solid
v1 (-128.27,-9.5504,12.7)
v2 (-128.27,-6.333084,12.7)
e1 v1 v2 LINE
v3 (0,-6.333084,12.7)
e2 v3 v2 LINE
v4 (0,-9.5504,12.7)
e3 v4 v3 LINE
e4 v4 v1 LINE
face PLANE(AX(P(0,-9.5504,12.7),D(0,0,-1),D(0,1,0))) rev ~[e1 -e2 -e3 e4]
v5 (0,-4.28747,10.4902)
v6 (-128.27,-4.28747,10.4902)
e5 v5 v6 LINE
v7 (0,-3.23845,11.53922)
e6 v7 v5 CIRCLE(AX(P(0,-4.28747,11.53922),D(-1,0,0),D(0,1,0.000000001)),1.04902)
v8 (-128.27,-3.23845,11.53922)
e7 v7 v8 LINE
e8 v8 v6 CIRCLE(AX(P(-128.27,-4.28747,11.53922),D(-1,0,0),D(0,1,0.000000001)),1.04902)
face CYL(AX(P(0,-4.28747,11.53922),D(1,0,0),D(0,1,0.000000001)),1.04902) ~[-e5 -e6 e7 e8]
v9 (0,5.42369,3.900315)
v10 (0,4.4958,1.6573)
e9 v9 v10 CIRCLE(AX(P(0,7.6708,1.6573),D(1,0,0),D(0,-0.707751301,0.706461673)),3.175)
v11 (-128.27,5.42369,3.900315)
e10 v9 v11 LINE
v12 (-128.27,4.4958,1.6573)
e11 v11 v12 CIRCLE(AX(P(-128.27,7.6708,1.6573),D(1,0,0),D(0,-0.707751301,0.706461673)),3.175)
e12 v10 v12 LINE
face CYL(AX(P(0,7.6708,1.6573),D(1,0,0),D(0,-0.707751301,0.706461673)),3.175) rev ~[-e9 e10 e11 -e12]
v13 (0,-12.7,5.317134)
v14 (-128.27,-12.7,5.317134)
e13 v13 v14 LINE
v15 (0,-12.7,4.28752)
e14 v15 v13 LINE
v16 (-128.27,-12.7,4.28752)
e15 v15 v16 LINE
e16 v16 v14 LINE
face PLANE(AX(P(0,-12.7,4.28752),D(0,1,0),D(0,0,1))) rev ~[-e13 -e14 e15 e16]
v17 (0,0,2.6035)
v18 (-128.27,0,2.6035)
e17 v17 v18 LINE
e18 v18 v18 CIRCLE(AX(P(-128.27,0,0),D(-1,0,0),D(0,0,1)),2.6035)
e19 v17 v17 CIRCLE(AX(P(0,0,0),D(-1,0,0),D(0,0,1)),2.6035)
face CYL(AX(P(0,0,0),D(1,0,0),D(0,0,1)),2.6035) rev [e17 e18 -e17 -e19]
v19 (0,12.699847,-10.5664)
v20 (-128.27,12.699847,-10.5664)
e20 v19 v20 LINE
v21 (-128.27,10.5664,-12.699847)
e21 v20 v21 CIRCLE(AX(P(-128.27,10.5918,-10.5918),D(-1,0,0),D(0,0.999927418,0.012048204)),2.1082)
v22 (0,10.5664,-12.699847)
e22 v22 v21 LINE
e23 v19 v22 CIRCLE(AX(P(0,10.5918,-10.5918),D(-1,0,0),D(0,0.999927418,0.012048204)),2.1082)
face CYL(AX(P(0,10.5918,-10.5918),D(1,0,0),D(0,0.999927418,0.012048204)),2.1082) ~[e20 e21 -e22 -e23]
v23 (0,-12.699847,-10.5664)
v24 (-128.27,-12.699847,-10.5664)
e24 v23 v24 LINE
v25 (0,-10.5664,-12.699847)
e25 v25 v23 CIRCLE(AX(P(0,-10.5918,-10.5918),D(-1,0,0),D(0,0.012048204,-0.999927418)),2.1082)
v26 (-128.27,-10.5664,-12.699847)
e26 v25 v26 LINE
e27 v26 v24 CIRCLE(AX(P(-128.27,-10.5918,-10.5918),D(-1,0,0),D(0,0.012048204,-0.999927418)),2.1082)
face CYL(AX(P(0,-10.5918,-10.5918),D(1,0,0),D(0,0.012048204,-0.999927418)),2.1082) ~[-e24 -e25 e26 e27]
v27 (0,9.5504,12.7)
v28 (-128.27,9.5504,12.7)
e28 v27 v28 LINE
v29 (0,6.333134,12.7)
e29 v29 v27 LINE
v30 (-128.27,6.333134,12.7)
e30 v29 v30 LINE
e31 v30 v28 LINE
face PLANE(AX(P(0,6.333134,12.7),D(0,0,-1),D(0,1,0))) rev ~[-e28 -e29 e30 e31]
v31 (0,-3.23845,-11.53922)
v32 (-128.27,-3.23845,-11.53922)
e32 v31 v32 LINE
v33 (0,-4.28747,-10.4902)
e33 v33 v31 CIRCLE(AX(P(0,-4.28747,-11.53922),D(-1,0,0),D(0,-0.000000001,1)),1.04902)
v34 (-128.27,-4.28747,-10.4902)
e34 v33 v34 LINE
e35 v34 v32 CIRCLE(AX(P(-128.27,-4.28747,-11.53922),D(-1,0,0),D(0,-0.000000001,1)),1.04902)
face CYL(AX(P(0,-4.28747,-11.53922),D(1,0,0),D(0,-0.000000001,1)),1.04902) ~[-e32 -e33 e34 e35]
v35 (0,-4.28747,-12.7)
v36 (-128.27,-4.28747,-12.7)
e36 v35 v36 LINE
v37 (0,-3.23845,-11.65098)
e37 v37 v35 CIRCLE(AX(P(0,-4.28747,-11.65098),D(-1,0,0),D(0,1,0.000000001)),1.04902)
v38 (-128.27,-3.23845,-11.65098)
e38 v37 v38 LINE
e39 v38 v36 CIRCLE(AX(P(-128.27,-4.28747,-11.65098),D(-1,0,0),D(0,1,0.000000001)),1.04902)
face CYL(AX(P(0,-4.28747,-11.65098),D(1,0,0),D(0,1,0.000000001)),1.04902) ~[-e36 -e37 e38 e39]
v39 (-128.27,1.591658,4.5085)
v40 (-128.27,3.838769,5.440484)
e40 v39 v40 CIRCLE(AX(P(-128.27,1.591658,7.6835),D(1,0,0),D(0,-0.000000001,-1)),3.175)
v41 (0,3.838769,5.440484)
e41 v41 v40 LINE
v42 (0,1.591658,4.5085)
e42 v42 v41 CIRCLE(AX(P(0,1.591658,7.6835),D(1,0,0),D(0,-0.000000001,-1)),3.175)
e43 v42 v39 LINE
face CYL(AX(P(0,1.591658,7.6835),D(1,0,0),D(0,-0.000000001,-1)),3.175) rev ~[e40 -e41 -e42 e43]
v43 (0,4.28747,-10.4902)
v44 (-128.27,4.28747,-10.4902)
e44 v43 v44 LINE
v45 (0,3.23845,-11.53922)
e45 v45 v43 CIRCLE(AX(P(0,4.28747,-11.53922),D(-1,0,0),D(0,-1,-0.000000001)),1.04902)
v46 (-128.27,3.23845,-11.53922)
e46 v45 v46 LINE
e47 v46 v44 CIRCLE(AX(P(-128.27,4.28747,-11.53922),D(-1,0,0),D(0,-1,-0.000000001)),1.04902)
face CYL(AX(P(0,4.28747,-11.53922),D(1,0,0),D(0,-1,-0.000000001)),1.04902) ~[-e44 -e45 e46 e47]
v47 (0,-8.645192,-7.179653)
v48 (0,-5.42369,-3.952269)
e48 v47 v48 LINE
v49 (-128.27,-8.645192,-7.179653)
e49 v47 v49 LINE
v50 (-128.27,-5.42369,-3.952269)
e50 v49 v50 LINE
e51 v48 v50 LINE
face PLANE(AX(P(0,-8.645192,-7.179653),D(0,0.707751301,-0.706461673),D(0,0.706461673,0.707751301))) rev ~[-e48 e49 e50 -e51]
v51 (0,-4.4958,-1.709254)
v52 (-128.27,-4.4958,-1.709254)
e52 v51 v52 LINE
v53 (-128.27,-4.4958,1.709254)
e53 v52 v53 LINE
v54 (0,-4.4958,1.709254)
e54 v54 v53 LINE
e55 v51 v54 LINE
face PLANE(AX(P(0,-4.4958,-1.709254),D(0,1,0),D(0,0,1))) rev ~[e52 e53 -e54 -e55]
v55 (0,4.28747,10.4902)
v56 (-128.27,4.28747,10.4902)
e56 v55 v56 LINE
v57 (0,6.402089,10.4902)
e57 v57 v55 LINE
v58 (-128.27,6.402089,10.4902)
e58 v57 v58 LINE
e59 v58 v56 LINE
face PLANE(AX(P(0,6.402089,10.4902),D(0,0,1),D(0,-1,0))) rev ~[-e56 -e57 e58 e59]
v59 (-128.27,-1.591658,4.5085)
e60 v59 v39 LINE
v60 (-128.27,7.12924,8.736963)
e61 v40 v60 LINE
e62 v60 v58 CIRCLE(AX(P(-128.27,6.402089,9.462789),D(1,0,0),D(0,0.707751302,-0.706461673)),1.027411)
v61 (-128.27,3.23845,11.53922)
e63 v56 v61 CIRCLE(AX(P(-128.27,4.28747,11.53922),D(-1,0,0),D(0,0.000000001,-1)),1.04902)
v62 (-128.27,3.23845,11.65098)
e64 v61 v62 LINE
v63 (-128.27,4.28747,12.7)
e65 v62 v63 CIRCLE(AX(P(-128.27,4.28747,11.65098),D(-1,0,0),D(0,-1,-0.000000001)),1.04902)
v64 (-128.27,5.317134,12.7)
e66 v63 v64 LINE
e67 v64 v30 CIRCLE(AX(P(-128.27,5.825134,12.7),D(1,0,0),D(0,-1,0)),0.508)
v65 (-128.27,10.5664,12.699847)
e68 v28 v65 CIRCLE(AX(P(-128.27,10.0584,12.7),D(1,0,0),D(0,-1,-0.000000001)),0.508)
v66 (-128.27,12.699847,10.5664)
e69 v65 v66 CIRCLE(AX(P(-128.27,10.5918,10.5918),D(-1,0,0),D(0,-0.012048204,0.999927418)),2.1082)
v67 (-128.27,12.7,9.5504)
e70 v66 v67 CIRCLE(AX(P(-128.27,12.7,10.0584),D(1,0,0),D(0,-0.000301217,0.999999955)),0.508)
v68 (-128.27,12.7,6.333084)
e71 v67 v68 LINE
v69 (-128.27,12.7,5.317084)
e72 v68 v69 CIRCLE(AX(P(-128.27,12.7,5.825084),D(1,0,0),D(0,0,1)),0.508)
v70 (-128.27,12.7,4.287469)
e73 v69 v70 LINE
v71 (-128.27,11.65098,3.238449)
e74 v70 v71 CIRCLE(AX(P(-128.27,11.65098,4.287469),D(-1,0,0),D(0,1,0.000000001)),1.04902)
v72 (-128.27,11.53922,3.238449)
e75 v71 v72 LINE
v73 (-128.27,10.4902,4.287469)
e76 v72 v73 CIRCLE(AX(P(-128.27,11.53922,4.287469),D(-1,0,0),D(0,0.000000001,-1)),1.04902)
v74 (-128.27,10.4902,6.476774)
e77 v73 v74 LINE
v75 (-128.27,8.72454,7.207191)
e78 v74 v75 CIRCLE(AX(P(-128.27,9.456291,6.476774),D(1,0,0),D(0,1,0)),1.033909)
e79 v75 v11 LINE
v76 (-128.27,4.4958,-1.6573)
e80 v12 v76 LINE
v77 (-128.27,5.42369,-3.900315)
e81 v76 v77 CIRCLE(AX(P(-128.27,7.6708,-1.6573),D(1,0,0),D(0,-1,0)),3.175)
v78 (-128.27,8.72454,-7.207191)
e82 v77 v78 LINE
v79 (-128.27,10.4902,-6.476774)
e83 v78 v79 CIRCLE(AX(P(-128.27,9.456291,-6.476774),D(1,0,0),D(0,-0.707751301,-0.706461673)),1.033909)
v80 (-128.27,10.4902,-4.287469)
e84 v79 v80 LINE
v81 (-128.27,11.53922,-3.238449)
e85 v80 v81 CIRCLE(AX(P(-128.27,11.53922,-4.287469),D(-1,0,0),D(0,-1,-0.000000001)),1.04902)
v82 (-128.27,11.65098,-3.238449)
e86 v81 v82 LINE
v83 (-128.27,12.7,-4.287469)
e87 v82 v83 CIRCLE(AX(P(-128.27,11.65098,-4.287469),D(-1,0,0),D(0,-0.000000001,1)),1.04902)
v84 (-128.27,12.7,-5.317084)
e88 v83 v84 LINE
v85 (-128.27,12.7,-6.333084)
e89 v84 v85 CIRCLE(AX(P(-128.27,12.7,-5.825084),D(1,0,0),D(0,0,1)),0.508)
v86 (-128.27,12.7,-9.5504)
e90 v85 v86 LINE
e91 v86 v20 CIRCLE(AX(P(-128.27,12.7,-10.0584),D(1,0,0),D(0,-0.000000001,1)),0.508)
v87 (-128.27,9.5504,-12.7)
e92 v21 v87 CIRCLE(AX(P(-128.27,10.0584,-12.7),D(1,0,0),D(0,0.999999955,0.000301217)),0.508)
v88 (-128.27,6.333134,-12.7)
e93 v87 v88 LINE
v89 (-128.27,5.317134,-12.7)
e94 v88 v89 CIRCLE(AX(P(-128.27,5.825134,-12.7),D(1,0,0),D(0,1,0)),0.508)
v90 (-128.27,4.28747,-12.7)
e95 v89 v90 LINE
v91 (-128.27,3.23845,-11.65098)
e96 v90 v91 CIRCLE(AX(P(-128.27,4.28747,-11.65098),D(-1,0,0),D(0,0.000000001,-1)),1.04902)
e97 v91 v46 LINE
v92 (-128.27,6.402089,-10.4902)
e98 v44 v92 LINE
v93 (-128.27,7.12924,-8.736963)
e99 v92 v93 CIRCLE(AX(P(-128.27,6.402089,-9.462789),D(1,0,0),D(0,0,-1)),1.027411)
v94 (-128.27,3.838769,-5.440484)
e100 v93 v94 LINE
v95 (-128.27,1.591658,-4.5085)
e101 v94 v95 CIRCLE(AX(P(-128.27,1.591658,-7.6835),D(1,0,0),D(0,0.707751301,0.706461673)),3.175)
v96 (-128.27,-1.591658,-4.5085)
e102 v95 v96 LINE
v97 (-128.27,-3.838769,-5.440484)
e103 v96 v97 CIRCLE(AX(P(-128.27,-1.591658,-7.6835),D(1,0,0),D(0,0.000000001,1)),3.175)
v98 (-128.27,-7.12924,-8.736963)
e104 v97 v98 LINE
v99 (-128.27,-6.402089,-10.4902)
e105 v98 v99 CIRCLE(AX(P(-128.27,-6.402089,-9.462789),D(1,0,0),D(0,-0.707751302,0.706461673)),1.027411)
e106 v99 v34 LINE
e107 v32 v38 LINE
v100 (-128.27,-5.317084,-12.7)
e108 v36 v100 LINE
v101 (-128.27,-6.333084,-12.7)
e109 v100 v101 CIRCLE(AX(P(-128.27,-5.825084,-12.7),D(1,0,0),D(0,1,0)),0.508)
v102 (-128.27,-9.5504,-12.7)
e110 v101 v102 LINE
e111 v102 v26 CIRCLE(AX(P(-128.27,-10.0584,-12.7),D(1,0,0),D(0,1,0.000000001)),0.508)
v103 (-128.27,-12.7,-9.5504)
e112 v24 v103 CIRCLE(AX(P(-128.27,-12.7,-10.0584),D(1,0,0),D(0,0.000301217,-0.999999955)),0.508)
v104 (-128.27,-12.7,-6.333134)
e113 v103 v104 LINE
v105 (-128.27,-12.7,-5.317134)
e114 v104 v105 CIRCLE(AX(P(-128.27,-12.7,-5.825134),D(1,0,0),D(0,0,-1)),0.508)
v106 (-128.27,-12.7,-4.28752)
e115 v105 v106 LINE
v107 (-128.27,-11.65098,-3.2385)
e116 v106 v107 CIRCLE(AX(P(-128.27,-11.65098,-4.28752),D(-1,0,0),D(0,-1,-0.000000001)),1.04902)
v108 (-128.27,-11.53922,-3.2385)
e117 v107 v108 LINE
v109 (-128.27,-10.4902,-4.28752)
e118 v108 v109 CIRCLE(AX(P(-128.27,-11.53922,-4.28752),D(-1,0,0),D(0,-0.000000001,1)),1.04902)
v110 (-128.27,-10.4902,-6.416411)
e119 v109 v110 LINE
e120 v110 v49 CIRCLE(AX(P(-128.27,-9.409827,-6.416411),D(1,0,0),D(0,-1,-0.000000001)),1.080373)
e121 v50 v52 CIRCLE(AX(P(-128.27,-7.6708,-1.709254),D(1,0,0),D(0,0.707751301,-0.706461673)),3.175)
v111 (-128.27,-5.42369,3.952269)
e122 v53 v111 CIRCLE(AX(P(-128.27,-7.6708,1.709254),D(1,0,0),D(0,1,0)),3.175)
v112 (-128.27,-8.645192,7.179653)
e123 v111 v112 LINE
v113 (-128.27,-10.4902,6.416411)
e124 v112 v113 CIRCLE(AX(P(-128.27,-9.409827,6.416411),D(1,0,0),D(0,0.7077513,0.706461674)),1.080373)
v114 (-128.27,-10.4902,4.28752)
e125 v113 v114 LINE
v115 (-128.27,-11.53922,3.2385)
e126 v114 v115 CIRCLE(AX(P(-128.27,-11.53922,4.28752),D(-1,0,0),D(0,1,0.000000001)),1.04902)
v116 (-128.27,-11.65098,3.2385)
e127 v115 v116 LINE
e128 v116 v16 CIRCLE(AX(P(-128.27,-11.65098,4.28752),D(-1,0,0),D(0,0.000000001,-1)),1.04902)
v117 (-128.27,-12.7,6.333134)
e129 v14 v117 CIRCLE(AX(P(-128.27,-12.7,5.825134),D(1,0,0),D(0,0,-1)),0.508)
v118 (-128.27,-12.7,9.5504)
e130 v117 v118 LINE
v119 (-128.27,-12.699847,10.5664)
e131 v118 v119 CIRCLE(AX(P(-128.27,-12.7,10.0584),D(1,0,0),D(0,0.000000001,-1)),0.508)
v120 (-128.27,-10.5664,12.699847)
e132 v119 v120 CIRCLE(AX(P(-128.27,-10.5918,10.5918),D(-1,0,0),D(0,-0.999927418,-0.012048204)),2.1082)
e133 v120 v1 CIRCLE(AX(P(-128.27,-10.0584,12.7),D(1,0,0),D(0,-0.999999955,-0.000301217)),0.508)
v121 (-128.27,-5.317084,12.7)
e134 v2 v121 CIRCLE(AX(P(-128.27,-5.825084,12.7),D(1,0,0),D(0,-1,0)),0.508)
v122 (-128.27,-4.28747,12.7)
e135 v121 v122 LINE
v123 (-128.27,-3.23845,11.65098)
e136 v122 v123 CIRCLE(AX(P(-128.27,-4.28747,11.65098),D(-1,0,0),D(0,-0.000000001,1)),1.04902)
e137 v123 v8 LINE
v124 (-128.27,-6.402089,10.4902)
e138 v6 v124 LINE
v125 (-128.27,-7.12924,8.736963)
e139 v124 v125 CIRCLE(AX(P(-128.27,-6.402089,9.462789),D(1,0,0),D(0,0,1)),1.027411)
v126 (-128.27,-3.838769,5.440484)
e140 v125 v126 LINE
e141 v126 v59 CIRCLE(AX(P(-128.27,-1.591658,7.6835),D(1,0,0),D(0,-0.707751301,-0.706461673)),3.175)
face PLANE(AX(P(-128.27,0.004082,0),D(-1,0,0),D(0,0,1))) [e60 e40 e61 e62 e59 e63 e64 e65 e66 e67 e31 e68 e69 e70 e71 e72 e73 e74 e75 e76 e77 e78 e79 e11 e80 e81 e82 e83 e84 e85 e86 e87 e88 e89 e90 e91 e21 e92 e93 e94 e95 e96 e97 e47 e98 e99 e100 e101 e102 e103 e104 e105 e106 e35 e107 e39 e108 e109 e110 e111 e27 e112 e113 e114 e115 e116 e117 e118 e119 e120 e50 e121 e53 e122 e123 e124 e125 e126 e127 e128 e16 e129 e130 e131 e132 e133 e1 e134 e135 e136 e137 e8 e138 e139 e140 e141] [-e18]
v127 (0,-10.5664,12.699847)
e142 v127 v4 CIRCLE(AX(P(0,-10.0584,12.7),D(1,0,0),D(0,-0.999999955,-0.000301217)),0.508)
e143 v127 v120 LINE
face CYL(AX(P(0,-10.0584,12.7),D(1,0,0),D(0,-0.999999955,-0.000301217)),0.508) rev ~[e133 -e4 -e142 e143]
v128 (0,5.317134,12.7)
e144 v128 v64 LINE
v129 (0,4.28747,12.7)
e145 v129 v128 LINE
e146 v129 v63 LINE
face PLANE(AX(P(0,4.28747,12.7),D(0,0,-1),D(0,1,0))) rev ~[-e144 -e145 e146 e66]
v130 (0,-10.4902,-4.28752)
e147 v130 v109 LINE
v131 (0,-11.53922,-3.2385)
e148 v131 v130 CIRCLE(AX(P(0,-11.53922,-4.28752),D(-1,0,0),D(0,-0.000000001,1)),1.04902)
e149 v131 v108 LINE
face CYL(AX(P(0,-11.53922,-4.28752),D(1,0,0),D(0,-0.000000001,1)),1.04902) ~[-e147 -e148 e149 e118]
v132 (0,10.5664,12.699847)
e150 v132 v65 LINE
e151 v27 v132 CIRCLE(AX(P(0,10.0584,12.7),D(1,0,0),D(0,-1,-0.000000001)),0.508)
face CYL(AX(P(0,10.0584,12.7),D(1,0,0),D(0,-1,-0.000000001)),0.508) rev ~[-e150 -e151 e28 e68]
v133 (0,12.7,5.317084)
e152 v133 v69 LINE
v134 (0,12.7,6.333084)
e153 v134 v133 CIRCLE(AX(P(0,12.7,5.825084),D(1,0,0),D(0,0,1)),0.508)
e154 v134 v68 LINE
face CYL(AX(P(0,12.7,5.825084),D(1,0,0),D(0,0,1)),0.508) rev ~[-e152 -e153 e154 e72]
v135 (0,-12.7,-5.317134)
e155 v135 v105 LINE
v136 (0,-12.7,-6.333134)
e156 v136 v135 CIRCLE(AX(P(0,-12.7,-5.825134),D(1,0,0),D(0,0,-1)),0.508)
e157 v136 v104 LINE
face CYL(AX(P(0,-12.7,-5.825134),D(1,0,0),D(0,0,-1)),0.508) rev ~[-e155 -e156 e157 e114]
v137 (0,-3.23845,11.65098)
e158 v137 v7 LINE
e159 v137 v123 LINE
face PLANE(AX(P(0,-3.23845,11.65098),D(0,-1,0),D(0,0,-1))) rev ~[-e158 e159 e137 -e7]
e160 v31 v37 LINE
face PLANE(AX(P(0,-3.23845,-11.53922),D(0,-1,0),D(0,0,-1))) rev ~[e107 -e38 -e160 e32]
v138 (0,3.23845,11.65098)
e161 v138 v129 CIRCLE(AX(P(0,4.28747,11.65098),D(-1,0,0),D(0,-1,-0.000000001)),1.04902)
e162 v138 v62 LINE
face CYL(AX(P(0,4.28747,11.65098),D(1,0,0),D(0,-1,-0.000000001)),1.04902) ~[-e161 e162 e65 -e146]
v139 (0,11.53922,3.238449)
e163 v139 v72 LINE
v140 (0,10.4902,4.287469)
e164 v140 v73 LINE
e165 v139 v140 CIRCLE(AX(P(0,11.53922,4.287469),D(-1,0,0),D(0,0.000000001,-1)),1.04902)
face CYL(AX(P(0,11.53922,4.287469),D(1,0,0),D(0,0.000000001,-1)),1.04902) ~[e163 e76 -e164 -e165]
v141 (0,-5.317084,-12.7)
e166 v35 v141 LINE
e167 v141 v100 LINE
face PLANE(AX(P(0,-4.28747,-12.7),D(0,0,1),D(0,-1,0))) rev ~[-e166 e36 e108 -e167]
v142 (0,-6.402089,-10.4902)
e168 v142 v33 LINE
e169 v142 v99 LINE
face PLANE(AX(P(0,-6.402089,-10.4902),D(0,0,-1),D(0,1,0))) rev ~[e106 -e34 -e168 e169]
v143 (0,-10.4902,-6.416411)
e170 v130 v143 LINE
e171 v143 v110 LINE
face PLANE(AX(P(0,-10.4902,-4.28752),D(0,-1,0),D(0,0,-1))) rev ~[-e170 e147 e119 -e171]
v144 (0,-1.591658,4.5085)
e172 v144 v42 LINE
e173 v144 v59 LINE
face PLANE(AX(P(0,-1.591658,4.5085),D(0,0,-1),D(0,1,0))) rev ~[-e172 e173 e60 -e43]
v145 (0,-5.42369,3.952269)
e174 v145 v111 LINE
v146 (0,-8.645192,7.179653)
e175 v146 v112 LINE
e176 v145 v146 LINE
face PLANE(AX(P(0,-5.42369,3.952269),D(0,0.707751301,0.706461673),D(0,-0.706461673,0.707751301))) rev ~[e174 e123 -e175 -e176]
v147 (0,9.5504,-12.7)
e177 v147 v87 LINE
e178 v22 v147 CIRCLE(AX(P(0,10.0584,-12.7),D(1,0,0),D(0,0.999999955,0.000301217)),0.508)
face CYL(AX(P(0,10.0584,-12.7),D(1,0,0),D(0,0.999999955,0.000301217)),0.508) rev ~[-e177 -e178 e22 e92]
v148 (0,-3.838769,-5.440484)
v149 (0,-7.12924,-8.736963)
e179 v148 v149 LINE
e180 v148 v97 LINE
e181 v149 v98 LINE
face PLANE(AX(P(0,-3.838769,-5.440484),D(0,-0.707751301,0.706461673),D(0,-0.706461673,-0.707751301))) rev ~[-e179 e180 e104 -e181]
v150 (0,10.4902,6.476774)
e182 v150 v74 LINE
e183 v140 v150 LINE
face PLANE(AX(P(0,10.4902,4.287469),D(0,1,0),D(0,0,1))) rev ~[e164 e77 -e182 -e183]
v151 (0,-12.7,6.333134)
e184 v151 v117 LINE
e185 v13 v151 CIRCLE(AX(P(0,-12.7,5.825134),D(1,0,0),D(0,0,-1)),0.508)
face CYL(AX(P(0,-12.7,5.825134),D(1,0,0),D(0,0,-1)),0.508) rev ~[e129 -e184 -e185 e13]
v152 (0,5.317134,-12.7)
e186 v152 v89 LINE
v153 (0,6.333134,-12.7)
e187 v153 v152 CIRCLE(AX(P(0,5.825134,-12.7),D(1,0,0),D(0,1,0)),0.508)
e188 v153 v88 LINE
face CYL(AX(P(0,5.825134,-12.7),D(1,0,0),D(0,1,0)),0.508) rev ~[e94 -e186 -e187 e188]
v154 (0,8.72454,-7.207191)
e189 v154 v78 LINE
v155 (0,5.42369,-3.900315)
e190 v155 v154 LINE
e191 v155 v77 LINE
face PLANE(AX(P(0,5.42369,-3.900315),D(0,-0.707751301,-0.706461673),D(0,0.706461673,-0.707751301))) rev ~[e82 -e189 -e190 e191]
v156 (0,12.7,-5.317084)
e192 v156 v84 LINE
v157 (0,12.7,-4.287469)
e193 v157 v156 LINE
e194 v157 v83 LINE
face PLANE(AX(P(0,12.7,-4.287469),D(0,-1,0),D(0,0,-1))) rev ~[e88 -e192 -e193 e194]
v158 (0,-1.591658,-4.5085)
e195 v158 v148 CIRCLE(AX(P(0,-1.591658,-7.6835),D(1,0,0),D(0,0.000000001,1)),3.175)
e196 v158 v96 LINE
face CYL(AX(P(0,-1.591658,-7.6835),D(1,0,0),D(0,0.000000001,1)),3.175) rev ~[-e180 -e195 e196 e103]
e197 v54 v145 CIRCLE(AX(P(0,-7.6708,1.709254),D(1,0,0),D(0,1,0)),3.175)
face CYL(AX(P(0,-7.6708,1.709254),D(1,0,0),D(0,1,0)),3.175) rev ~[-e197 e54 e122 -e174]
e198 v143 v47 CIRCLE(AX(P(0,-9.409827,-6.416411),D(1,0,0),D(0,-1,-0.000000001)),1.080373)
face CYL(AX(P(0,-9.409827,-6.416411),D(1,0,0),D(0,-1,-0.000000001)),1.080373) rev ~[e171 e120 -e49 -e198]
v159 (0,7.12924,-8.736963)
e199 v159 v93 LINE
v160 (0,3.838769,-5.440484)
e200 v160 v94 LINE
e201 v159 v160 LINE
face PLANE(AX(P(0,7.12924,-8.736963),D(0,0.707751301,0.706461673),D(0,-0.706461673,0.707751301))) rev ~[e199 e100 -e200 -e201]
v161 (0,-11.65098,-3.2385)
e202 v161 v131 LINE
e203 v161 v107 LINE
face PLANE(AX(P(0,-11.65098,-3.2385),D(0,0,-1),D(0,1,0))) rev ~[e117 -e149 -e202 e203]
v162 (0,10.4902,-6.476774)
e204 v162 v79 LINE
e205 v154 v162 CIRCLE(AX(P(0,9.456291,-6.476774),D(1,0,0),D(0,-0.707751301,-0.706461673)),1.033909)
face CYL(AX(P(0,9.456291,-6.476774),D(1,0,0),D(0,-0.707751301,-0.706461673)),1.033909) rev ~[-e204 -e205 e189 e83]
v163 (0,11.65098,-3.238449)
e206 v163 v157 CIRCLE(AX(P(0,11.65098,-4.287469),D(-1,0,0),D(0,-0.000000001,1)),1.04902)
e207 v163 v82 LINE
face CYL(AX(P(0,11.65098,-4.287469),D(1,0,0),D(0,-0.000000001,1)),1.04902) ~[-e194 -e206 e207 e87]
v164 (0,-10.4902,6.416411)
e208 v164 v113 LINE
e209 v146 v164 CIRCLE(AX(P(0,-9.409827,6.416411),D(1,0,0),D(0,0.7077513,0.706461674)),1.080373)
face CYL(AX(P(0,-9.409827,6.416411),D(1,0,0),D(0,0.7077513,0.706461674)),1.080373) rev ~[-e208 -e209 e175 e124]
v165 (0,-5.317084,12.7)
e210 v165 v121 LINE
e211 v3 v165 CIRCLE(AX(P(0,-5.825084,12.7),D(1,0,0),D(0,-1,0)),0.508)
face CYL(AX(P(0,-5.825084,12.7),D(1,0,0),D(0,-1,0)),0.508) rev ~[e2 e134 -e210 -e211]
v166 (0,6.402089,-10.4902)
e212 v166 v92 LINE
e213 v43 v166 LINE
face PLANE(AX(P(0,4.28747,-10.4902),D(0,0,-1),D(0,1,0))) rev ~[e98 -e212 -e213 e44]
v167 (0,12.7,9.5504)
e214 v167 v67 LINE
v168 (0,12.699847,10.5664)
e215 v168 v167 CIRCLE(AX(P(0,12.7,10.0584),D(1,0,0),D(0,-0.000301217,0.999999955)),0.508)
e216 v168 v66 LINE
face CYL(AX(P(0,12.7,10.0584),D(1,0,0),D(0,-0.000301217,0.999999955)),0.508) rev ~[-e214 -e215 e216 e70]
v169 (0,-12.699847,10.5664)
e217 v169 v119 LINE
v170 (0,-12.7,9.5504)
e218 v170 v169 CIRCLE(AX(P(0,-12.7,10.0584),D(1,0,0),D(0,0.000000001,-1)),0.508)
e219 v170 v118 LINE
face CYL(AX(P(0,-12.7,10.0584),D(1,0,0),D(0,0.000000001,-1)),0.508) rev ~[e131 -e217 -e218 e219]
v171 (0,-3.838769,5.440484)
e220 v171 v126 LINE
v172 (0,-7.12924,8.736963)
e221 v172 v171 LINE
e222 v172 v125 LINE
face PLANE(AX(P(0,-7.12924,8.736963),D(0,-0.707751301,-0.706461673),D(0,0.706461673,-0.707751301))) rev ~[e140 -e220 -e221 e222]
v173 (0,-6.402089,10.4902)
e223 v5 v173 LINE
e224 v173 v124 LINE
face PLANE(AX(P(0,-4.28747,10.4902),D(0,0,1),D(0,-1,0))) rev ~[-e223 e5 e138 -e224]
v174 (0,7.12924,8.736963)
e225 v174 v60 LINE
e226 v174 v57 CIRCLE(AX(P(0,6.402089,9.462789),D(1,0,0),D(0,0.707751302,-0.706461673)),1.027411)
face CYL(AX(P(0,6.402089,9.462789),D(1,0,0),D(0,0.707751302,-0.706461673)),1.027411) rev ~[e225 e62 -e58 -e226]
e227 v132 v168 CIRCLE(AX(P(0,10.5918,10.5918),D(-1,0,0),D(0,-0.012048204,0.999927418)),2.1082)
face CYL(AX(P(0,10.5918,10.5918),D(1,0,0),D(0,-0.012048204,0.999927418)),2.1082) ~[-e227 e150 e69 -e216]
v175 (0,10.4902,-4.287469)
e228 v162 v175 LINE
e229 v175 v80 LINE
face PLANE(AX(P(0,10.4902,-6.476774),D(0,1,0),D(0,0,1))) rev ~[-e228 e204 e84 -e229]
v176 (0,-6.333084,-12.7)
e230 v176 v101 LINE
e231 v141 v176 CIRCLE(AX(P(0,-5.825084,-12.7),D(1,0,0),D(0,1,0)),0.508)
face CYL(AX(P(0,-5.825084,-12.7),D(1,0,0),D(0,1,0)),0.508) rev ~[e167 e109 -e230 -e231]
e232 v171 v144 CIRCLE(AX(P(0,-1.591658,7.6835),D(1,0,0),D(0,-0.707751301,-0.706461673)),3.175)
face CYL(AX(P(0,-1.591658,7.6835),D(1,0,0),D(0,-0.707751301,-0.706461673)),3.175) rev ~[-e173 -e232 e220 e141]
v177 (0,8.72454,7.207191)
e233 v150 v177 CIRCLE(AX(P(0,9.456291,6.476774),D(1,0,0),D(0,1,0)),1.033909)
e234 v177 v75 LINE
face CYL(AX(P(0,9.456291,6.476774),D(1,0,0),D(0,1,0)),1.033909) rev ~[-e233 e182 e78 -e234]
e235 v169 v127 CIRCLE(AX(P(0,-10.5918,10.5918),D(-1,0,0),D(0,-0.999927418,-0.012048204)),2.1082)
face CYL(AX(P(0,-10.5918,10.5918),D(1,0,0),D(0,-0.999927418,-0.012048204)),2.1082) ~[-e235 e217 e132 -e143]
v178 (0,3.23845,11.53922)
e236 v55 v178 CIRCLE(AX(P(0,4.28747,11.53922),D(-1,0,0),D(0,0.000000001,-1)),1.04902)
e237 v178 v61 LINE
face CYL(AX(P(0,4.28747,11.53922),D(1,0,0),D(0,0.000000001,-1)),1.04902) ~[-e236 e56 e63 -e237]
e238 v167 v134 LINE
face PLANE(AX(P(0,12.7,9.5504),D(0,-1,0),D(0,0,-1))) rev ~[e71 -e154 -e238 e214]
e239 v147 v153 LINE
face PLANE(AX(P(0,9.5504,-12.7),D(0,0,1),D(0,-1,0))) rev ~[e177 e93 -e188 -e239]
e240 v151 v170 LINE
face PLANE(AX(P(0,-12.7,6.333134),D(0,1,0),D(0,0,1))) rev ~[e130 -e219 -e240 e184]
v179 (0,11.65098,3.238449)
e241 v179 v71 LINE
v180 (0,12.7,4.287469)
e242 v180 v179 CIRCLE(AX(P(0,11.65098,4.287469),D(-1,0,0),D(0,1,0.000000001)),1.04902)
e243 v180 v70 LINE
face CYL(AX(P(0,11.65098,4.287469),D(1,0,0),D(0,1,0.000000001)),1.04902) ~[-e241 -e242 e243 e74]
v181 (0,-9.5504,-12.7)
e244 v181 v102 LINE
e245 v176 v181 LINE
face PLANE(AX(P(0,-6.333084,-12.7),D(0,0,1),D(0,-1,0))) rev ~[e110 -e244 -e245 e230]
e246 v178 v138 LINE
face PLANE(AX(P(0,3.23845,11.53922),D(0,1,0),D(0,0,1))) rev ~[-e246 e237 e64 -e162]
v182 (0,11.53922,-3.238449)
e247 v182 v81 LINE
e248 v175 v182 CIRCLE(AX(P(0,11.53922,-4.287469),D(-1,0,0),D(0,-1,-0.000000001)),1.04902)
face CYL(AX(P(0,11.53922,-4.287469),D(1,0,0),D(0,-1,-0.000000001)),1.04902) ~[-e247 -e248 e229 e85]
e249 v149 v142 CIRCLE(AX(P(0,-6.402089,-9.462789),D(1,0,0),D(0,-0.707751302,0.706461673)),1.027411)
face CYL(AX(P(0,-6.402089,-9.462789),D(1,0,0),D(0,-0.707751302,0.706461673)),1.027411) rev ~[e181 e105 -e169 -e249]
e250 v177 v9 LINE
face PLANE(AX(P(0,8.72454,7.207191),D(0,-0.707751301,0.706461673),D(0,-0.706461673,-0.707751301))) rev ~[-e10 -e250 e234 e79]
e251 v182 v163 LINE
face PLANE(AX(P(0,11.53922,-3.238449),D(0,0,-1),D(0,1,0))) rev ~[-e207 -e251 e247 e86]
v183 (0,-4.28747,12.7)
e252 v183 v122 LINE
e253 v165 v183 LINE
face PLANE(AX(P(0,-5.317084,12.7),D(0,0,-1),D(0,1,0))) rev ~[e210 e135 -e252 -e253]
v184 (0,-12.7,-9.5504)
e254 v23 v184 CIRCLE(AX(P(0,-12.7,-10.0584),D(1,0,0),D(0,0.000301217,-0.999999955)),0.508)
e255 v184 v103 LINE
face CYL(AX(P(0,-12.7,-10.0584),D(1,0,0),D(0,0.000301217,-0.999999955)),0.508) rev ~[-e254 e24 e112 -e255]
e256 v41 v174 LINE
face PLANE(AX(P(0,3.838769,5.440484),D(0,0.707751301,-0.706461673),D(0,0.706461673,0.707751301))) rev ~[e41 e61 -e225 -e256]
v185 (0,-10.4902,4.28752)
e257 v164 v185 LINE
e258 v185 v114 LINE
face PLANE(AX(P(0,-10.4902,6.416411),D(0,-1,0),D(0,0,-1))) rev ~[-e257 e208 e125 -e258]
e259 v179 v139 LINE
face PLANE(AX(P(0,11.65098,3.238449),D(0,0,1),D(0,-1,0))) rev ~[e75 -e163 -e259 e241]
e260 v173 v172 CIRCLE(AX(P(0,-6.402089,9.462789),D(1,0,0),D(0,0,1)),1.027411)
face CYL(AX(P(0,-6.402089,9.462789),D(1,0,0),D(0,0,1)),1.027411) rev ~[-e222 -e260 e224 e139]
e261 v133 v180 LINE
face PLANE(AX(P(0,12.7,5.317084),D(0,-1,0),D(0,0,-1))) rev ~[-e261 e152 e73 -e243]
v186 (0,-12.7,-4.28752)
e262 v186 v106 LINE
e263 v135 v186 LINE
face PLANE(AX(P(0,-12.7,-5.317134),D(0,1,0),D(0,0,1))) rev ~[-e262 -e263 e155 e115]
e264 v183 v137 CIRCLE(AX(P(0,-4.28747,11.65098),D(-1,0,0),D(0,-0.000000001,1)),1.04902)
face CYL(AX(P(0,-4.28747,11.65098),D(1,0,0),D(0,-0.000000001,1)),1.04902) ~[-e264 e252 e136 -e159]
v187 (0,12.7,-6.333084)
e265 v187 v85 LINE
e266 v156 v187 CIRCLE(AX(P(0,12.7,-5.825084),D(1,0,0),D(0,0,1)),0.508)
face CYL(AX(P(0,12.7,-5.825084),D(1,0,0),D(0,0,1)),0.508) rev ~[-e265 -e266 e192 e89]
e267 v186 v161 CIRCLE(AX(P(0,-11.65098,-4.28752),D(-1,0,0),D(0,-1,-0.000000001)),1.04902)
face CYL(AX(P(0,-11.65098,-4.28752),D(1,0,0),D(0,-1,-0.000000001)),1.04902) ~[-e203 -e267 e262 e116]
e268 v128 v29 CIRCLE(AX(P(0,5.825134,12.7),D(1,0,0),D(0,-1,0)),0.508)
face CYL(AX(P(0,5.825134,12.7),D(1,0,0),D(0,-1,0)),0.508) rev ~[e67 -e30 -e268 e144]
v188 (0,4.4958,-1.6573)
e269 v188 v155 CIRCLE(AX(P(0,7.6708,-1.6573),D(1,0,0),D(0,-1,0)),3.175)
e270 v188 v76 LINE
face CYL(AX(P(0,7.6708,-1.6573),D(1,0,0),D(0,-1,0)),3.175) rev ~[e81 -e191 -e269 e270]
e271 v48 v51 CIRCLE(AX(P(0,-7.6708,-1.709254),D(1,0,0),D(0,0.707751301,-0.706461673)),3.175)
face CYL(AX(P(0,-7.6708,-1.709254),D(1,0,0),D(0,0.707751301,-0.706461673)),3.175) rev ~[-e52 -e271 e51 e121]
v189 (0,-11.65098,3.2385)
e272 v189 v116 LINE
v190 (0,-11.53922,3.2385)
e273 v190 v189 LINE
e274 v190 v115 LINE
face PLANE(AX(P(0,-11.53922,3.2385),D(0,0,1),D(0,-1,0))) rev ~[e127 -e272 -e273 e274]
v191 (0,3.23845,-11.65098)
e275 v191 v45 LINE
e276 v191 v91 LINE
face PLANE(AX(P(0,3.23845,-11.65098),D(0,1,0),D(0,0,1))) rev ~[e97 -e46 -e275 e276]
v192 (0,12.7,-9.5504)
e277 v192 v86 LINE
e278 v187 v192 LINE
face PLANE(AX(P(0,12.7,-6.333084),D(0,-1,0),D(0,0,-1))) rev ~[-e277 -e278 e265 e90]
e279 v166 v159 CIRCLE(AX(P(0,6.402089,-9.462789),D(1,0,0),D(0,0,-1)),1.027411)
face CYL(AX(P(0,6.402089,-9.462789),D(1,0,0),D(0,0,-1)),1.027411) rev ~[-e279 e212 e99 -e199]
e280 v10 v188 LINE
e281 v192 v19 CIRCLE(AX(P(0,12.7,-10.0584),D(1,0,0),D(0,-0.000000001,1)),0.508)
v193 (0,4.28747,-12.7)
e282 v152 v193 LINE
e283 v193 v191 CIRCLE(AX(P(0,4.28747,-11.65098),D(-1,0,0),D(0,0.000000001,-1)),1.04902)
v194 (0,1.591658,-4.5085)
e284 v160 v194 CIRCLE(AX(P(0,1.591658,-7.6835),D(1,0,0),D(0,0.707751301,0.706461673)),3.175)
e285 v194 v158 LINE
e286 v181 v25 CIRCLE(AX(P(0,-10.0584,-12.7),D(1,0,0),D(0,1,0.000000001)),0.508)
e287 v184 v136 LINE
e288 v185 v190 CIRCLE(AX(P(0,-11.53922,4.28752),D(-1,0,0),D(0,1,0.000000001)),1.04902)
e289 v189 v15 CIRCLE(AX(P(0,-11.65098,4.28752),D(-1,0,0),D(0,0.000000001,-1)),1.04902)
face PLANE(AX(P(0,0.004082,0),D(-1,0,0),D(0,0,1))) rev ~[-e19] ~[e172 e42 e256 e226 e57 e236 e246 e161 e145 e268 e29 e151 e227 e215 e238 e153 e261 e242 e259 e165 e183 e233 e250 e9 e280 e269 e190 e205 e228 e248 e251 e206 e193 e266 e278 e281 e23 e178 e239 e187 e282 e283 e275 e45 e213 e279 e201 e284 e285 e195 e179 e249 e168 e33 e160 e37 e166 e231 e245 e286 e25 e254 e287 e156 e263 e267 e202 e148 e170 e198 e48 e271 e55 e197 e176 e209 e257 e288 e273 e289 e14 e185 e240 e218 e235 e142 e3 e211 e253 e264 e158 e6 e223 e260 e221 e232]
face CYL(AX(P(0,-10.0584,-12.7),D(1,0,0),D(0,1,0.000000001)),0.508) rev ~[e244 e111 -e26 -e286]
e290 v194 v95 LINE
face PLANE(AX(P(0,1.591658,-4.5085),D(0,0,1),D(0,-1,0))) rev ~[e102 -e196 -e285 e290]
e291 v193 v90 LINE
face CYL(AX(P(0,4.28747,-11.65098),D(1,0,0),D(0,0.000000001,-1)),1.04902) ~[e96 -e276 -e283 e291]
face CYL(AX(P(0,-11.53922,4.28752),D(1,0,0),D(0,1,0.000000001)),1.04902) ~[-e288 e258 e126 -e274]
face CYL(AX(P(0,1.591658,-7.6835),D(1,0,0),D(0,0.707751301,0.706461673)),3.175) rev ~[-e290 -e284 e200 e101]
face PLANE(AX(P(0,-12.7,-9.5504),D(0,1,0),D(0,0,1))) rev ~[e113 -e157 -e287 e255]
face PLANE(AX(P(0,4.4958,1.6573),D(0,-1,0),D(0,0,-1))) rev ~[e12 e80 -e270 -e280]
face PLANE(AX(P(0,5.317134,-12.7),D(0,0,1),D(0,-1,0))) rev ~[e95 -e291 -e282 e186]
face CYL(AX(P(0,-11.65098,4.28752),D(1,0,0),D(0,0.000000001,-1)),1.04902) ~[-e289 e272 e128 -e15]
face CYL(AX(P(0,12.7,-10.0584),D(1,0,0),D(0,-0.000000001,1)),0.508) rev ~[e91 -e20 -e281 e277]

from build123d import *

# Parameters (mm, degrees)
SKETCH11_R                = 2.6035
F_10_1010_PROFILE_1_DEPTH = 128.27


with BuildPart() as part:
    # Sketch11 → 10 1010 PROFILE(1) (new body)
    with BuildSketch(Plane.ZY):
        with BuildLine():
            Line((-1.709253557, -4.4958), (1.709253557, -4.4958))
            ThreePointArc((1.709253557, -4.4958), (2.922935876, -4.736928798), (3.95226937, -5.423689619))
            Line((3.95226937, -5.423689619), (7.179652728, -8.645192207))
            ThreePointArc((7.179652728, -8.645192207), (7.414733441, -9.822812921), (6.41641086, -10.4902))
            Line((6.41641086, -10.4902), (4.28752, -10.4902))
            ThreePointArc((4.28752, -10.4902), (3.545750844, -10.797450844), (3.2385, -11.53922))
            Line((3.2385, -11.53922), (3.2385, -11.65098))
            ThreePointArc((3.2385, -11.65098), (3.545750844, -12.392749156), (4.28752, -12.7))
            Line((4.28752, -12.7), (5.3171344, -12.7))
            ThreePointArc((5.3171344, -12.7), (5.8251344, -12.192), (6.3331344, -12.7))
            Line((6.3331344, -12.7), (9.5504, -12.7))
            ThreePointArc((9.5504, -12.7), (10.058323491, -12.192000006), (10.566399977, -12.699846982))
            ThreePointArc((10.566399977, -12.699846982), (12.082522516, -12.082522516), (12.699846982, -10.566399977))
            ThreePointArc((12.699846982, -10.566399977), (12.192000006, -10.058323491), (12.7, -9.5504))
            Line((12.7, -9.5504), (12.7, -6.3330836))
            ThreePointArc((12.7, -6.3330836), (12.192, -5.8250836), (12.7, -5.3170836))
            Line((12.7, -5.3170836), (12.7, -4.287470133))
            ThreePointArc((12.7, -4.287470133), (12.392749156, -3.545700977), (11.65098, -3.238450133))
            Line((11.65098, -3.238450133), (11.53922, -3.238450133))
            ThreePointArc((11.53922, -3.238450133), (10.797450844, -3.545700977), (10.4902, -4.287470133))
            Line((10.4902, -4.287470133), (10.4902, -6.402089023))
            ThreePointArc((10.4902, -6.402089023), (9.856394933, -7.351113629), (8.736962546, -7.129240479))
            Line((8.736962546, -7.129240479), (5.440484187, -3.838768792))
            ThreePointArc((5.440484187, -3.838768792), (4.75073678, -2.808015636), (4.5085, -1.591658411))
            Line((4.5085, -1.591658411), (4.5085, 1.591658411))
            ThreePointArc((4.5085, 1.591658411), (4.75073678, 2.808015636), (5.440484187, 3.838768792))
            Line((5.440484187, 3.838768792), (8.736962546, 7.129240479))
            ThreePointArc((8.736962546, 7.129240479), (9.856394933, 7.351113629), (10.4902, 6.402089023))
            Line((10.4902, 6.402089023), (10.4902, 4.287470133))
            ThreePointArc((10.4902, 4.287470133), (10.797450844, 3.545700977), (11.53922, 3.238450133))
            Line((11.53922, 3.238450133), (11.65098, 3.238450133))
            ThreePointArc((11.65098, 3.238450133), (12.392749156, 3.545700977), (12.7, 4.287470133))
            Line((12.7, 4.287470133), (12.7, 5.3171344))
            ThreePointArc((12.7, 5.3171344), (12.192, 5.8251344), (12.7, 6.3331344))
            Line((12.7, 6.3331344), (12.7, 9.5504))
            ThreePointArc((12.7, 9.5504), (12.192000006, 10.058323491), (12.699846982, 10.566399977))
            ThreePointArc((12.699846982, 10.566399977), (12.082522516, 12.082522516), (10.566399977, 12.699846982))
            ThreePointArc((10.566399977, 12.699846982), (10.058323491, 12.192000006), (9.5504, 12.7))
            Line((9.5504, 12.7), (6.3330836, 12.7))
            ThreePointArc((6.3330836, 12.7), (5.8250836, 12.192), (5.3170836, 12.7))
            Line((5.3170836, 12.7), (4.2874692, 12.7))
            ThreePointArc((4.2874692, 12.7), (3.545700044, 12.392749156), (3.2384492, 11.65098))
            Line((3.2384492, 11.65098), (3.2384492, 11.53922))
            ThreePointArc((3.2384492, 11.53922), (3.545700044, 10.797450844), (4.2874692, 10.4902))
            Line((4.2874692, 10.4902), (6.476774195, 10.4902))
            ThreePointArc((6.476774195, 10.4902), (7.43216212, 9.851515102), (7.207191475, 8.724540082))
            Line((7.207191475, 8.724540082), (3.900315394, 5.423689619))
            ThreePointArc((3.900315394, 5.423689619), (2.8709819, 4.736928798), (1.657299581, 4.4958))
            Line((1.657299581, 4.4958), (-1.657299581, 4.4958))
            ThreePointArc((-1.657299581, 4.4958), (-2.8709819, 4.736928798), (-3.900315394, 5.423689619))
            Line((-3.900315394, 5.423689619), (-7.207191475, 8.724540082))
            ThreePointArc((-7.207191475, 8.724540082), (-7.43216212, 9.851515102), (-6.476774195, 10.4902))
            Line((-6.476774195, 10.4902), (-4.2874692, 10.4902))
            ThreePointArc((-4.2874692, 10.4902), (-3.545700044, 10.797450844), (-3.2384492, 11.53922))
            Line((-3.2384492, 11.53922), (-3.2384492, 11.65098))
            ThreePointArc((-3.2384492, 11.65098), (-3.545700044, 12.392749156), (-4.2874692, 12.7))
            Line((-4.2874692, 12.7), (-5.3170836, 12.7))
            ThreePointArc((-5.3170836, 12.7), (-5.8250836, 12.192), (-6.3330836, 12.7))
            Line((-6.3330836, 12.7), (-9.5504, 12.7))
            ThreePointArc((-9.5504, 12.7), (-10.058323491, 12.192000006), (-10.566399977, 12.699846982))
            ThreePointArc((-10.566399977, 12.699846982), (-12.082522516, 12.082522516), (-12.699846982, 10.566399977))
            ThreePointArc((-12.699846982, 10.566399977), (-12.192000006, 10.058323491), (-12.7, 9.5504))
            Line((-12.7, 9.5504), (-12.7, 6.3331344))
            ThreePointArc((-12.7, 6.3331344), (-12.192, 5.8251344), (-12.7, 5.3171344))
            Line((-12.7, 5.3171344), (-12.7, 4.287470133))
            ThreePointArc((-12.7, 4.287470133), (-12.392749156, 3.545700977), (-11.65098, 3.238450133))
            Line((-11.65098, 3.238450133), (-11.53922, 3.238450133))
            ThreePointArc((-11.53922, 3.238450133), (-10.797450844, 3.545700977), (-10.4902, 4.287470133))
            Line((-10.4902, 4.287470133), (-10.4902, 6.402089023))
            ThreePointArc((-10.4902, 6.402089023), (-9.856394933, 7.351113629), (-8.736962546, 7.129240479))
            Line((-8.736962546, 7.129240479), (-5.440484187, 3.838768792))
            ThreePointArc((-5.440484187, 3.838768792), (-4.75073678, 2.808015636), (-4.5085, 1.591658411))
            Line((-4.5085, 1.591658411), (-4.5085, -1.591658411))
            ThreePointArc((-4.5085, -1.591658411), (-4.75073678, -2.808015636), (-5.440484187, -3.838768792))
            Line((-5.440484187, -3.838768792), (-8.736962546, -7.129240479))
            ThreePointArc((-8.736962546, -7.129240479), (-9.856394933, -7.351113629), (-10.4902, -6.402089023))
            Line((-10.4902, -6.402089023), (-10.4902, -4.287470133))
            ThreePointArc((-10.4902, -4.287470133), (-10.797450844, -3.545700977), (-11.53922, -3.238450133))
            Line((-11.53922, -3.238450133), (-11.65098, -3.238450133))
            ThreePointArc((-11.65098, -3.238450133), (-12.392749156, -3.545700977), (-12.7, -4.287470133))
            Line((-12.7, -4.287470133), (-12.7, -5.3170836))
            ThreePointArc((-12.7, -5.3170836), (-12.192, -5.8250836), (-12.7, -6.3330836))
            Line((-12.7, -6.3330836), (-12.7, -9.5504))
            ThreePointArc((-12.7, -9.5504), (-12.192000006, -10.058323491), (-12.699846982, -10.566399977))
            ThreePointArc((-12.699846982, -10.566399977), (-12.082522516, -12.082522516), (-10.566399977, -12.699846982))
            ThreePointArc((-10.566399977, -12.699846982), (-10.058323491, -12.192000006), (-9.5504, -12.7))
            Line((-9.5504, -12.7), (-6.3331344, -12.7))
            ThreePointArc((-6.3331344, -12.7), (-5.8251344, -12.192), (-5.3171344, -12.7))
            Line((-5.3171344, -12.7), (-4.28752, -12.7))
            ThreePointArc((-4.28752, -12.7), (-3.545750844, -12.392749156), (-3.2385, -11.65098))
            Line((-3.2385, -11.65098), (-3.2385, -11.53922))
            ThreePointArc((-3.2385, -11.53922), (-3.545750844, -10.797450844), (-4.28752, -10.4902))
            Line((-4.28752, -10.4902), (-6.41641086, -10.4902))
            ThreePointArc((-6.41641086, -10.4902), (-7.414733441, -9.822812921), (-7.179652728, -8.645192207))
            Line((-7.179652728, -8.645192207), (-3.95226937, -5.423689619))
            ThreePointArc((-3.95226937, -5.423689619), (-2.922935876, -4.736928798), (-1.709253557, -4.4958))
        make_face()
        Circle(SKETCH11_R, mode=Mode.SUBTRACT)
    extrude(amount=F_10_1010_PROFILE_1_DEPTH)


solid = part.part
